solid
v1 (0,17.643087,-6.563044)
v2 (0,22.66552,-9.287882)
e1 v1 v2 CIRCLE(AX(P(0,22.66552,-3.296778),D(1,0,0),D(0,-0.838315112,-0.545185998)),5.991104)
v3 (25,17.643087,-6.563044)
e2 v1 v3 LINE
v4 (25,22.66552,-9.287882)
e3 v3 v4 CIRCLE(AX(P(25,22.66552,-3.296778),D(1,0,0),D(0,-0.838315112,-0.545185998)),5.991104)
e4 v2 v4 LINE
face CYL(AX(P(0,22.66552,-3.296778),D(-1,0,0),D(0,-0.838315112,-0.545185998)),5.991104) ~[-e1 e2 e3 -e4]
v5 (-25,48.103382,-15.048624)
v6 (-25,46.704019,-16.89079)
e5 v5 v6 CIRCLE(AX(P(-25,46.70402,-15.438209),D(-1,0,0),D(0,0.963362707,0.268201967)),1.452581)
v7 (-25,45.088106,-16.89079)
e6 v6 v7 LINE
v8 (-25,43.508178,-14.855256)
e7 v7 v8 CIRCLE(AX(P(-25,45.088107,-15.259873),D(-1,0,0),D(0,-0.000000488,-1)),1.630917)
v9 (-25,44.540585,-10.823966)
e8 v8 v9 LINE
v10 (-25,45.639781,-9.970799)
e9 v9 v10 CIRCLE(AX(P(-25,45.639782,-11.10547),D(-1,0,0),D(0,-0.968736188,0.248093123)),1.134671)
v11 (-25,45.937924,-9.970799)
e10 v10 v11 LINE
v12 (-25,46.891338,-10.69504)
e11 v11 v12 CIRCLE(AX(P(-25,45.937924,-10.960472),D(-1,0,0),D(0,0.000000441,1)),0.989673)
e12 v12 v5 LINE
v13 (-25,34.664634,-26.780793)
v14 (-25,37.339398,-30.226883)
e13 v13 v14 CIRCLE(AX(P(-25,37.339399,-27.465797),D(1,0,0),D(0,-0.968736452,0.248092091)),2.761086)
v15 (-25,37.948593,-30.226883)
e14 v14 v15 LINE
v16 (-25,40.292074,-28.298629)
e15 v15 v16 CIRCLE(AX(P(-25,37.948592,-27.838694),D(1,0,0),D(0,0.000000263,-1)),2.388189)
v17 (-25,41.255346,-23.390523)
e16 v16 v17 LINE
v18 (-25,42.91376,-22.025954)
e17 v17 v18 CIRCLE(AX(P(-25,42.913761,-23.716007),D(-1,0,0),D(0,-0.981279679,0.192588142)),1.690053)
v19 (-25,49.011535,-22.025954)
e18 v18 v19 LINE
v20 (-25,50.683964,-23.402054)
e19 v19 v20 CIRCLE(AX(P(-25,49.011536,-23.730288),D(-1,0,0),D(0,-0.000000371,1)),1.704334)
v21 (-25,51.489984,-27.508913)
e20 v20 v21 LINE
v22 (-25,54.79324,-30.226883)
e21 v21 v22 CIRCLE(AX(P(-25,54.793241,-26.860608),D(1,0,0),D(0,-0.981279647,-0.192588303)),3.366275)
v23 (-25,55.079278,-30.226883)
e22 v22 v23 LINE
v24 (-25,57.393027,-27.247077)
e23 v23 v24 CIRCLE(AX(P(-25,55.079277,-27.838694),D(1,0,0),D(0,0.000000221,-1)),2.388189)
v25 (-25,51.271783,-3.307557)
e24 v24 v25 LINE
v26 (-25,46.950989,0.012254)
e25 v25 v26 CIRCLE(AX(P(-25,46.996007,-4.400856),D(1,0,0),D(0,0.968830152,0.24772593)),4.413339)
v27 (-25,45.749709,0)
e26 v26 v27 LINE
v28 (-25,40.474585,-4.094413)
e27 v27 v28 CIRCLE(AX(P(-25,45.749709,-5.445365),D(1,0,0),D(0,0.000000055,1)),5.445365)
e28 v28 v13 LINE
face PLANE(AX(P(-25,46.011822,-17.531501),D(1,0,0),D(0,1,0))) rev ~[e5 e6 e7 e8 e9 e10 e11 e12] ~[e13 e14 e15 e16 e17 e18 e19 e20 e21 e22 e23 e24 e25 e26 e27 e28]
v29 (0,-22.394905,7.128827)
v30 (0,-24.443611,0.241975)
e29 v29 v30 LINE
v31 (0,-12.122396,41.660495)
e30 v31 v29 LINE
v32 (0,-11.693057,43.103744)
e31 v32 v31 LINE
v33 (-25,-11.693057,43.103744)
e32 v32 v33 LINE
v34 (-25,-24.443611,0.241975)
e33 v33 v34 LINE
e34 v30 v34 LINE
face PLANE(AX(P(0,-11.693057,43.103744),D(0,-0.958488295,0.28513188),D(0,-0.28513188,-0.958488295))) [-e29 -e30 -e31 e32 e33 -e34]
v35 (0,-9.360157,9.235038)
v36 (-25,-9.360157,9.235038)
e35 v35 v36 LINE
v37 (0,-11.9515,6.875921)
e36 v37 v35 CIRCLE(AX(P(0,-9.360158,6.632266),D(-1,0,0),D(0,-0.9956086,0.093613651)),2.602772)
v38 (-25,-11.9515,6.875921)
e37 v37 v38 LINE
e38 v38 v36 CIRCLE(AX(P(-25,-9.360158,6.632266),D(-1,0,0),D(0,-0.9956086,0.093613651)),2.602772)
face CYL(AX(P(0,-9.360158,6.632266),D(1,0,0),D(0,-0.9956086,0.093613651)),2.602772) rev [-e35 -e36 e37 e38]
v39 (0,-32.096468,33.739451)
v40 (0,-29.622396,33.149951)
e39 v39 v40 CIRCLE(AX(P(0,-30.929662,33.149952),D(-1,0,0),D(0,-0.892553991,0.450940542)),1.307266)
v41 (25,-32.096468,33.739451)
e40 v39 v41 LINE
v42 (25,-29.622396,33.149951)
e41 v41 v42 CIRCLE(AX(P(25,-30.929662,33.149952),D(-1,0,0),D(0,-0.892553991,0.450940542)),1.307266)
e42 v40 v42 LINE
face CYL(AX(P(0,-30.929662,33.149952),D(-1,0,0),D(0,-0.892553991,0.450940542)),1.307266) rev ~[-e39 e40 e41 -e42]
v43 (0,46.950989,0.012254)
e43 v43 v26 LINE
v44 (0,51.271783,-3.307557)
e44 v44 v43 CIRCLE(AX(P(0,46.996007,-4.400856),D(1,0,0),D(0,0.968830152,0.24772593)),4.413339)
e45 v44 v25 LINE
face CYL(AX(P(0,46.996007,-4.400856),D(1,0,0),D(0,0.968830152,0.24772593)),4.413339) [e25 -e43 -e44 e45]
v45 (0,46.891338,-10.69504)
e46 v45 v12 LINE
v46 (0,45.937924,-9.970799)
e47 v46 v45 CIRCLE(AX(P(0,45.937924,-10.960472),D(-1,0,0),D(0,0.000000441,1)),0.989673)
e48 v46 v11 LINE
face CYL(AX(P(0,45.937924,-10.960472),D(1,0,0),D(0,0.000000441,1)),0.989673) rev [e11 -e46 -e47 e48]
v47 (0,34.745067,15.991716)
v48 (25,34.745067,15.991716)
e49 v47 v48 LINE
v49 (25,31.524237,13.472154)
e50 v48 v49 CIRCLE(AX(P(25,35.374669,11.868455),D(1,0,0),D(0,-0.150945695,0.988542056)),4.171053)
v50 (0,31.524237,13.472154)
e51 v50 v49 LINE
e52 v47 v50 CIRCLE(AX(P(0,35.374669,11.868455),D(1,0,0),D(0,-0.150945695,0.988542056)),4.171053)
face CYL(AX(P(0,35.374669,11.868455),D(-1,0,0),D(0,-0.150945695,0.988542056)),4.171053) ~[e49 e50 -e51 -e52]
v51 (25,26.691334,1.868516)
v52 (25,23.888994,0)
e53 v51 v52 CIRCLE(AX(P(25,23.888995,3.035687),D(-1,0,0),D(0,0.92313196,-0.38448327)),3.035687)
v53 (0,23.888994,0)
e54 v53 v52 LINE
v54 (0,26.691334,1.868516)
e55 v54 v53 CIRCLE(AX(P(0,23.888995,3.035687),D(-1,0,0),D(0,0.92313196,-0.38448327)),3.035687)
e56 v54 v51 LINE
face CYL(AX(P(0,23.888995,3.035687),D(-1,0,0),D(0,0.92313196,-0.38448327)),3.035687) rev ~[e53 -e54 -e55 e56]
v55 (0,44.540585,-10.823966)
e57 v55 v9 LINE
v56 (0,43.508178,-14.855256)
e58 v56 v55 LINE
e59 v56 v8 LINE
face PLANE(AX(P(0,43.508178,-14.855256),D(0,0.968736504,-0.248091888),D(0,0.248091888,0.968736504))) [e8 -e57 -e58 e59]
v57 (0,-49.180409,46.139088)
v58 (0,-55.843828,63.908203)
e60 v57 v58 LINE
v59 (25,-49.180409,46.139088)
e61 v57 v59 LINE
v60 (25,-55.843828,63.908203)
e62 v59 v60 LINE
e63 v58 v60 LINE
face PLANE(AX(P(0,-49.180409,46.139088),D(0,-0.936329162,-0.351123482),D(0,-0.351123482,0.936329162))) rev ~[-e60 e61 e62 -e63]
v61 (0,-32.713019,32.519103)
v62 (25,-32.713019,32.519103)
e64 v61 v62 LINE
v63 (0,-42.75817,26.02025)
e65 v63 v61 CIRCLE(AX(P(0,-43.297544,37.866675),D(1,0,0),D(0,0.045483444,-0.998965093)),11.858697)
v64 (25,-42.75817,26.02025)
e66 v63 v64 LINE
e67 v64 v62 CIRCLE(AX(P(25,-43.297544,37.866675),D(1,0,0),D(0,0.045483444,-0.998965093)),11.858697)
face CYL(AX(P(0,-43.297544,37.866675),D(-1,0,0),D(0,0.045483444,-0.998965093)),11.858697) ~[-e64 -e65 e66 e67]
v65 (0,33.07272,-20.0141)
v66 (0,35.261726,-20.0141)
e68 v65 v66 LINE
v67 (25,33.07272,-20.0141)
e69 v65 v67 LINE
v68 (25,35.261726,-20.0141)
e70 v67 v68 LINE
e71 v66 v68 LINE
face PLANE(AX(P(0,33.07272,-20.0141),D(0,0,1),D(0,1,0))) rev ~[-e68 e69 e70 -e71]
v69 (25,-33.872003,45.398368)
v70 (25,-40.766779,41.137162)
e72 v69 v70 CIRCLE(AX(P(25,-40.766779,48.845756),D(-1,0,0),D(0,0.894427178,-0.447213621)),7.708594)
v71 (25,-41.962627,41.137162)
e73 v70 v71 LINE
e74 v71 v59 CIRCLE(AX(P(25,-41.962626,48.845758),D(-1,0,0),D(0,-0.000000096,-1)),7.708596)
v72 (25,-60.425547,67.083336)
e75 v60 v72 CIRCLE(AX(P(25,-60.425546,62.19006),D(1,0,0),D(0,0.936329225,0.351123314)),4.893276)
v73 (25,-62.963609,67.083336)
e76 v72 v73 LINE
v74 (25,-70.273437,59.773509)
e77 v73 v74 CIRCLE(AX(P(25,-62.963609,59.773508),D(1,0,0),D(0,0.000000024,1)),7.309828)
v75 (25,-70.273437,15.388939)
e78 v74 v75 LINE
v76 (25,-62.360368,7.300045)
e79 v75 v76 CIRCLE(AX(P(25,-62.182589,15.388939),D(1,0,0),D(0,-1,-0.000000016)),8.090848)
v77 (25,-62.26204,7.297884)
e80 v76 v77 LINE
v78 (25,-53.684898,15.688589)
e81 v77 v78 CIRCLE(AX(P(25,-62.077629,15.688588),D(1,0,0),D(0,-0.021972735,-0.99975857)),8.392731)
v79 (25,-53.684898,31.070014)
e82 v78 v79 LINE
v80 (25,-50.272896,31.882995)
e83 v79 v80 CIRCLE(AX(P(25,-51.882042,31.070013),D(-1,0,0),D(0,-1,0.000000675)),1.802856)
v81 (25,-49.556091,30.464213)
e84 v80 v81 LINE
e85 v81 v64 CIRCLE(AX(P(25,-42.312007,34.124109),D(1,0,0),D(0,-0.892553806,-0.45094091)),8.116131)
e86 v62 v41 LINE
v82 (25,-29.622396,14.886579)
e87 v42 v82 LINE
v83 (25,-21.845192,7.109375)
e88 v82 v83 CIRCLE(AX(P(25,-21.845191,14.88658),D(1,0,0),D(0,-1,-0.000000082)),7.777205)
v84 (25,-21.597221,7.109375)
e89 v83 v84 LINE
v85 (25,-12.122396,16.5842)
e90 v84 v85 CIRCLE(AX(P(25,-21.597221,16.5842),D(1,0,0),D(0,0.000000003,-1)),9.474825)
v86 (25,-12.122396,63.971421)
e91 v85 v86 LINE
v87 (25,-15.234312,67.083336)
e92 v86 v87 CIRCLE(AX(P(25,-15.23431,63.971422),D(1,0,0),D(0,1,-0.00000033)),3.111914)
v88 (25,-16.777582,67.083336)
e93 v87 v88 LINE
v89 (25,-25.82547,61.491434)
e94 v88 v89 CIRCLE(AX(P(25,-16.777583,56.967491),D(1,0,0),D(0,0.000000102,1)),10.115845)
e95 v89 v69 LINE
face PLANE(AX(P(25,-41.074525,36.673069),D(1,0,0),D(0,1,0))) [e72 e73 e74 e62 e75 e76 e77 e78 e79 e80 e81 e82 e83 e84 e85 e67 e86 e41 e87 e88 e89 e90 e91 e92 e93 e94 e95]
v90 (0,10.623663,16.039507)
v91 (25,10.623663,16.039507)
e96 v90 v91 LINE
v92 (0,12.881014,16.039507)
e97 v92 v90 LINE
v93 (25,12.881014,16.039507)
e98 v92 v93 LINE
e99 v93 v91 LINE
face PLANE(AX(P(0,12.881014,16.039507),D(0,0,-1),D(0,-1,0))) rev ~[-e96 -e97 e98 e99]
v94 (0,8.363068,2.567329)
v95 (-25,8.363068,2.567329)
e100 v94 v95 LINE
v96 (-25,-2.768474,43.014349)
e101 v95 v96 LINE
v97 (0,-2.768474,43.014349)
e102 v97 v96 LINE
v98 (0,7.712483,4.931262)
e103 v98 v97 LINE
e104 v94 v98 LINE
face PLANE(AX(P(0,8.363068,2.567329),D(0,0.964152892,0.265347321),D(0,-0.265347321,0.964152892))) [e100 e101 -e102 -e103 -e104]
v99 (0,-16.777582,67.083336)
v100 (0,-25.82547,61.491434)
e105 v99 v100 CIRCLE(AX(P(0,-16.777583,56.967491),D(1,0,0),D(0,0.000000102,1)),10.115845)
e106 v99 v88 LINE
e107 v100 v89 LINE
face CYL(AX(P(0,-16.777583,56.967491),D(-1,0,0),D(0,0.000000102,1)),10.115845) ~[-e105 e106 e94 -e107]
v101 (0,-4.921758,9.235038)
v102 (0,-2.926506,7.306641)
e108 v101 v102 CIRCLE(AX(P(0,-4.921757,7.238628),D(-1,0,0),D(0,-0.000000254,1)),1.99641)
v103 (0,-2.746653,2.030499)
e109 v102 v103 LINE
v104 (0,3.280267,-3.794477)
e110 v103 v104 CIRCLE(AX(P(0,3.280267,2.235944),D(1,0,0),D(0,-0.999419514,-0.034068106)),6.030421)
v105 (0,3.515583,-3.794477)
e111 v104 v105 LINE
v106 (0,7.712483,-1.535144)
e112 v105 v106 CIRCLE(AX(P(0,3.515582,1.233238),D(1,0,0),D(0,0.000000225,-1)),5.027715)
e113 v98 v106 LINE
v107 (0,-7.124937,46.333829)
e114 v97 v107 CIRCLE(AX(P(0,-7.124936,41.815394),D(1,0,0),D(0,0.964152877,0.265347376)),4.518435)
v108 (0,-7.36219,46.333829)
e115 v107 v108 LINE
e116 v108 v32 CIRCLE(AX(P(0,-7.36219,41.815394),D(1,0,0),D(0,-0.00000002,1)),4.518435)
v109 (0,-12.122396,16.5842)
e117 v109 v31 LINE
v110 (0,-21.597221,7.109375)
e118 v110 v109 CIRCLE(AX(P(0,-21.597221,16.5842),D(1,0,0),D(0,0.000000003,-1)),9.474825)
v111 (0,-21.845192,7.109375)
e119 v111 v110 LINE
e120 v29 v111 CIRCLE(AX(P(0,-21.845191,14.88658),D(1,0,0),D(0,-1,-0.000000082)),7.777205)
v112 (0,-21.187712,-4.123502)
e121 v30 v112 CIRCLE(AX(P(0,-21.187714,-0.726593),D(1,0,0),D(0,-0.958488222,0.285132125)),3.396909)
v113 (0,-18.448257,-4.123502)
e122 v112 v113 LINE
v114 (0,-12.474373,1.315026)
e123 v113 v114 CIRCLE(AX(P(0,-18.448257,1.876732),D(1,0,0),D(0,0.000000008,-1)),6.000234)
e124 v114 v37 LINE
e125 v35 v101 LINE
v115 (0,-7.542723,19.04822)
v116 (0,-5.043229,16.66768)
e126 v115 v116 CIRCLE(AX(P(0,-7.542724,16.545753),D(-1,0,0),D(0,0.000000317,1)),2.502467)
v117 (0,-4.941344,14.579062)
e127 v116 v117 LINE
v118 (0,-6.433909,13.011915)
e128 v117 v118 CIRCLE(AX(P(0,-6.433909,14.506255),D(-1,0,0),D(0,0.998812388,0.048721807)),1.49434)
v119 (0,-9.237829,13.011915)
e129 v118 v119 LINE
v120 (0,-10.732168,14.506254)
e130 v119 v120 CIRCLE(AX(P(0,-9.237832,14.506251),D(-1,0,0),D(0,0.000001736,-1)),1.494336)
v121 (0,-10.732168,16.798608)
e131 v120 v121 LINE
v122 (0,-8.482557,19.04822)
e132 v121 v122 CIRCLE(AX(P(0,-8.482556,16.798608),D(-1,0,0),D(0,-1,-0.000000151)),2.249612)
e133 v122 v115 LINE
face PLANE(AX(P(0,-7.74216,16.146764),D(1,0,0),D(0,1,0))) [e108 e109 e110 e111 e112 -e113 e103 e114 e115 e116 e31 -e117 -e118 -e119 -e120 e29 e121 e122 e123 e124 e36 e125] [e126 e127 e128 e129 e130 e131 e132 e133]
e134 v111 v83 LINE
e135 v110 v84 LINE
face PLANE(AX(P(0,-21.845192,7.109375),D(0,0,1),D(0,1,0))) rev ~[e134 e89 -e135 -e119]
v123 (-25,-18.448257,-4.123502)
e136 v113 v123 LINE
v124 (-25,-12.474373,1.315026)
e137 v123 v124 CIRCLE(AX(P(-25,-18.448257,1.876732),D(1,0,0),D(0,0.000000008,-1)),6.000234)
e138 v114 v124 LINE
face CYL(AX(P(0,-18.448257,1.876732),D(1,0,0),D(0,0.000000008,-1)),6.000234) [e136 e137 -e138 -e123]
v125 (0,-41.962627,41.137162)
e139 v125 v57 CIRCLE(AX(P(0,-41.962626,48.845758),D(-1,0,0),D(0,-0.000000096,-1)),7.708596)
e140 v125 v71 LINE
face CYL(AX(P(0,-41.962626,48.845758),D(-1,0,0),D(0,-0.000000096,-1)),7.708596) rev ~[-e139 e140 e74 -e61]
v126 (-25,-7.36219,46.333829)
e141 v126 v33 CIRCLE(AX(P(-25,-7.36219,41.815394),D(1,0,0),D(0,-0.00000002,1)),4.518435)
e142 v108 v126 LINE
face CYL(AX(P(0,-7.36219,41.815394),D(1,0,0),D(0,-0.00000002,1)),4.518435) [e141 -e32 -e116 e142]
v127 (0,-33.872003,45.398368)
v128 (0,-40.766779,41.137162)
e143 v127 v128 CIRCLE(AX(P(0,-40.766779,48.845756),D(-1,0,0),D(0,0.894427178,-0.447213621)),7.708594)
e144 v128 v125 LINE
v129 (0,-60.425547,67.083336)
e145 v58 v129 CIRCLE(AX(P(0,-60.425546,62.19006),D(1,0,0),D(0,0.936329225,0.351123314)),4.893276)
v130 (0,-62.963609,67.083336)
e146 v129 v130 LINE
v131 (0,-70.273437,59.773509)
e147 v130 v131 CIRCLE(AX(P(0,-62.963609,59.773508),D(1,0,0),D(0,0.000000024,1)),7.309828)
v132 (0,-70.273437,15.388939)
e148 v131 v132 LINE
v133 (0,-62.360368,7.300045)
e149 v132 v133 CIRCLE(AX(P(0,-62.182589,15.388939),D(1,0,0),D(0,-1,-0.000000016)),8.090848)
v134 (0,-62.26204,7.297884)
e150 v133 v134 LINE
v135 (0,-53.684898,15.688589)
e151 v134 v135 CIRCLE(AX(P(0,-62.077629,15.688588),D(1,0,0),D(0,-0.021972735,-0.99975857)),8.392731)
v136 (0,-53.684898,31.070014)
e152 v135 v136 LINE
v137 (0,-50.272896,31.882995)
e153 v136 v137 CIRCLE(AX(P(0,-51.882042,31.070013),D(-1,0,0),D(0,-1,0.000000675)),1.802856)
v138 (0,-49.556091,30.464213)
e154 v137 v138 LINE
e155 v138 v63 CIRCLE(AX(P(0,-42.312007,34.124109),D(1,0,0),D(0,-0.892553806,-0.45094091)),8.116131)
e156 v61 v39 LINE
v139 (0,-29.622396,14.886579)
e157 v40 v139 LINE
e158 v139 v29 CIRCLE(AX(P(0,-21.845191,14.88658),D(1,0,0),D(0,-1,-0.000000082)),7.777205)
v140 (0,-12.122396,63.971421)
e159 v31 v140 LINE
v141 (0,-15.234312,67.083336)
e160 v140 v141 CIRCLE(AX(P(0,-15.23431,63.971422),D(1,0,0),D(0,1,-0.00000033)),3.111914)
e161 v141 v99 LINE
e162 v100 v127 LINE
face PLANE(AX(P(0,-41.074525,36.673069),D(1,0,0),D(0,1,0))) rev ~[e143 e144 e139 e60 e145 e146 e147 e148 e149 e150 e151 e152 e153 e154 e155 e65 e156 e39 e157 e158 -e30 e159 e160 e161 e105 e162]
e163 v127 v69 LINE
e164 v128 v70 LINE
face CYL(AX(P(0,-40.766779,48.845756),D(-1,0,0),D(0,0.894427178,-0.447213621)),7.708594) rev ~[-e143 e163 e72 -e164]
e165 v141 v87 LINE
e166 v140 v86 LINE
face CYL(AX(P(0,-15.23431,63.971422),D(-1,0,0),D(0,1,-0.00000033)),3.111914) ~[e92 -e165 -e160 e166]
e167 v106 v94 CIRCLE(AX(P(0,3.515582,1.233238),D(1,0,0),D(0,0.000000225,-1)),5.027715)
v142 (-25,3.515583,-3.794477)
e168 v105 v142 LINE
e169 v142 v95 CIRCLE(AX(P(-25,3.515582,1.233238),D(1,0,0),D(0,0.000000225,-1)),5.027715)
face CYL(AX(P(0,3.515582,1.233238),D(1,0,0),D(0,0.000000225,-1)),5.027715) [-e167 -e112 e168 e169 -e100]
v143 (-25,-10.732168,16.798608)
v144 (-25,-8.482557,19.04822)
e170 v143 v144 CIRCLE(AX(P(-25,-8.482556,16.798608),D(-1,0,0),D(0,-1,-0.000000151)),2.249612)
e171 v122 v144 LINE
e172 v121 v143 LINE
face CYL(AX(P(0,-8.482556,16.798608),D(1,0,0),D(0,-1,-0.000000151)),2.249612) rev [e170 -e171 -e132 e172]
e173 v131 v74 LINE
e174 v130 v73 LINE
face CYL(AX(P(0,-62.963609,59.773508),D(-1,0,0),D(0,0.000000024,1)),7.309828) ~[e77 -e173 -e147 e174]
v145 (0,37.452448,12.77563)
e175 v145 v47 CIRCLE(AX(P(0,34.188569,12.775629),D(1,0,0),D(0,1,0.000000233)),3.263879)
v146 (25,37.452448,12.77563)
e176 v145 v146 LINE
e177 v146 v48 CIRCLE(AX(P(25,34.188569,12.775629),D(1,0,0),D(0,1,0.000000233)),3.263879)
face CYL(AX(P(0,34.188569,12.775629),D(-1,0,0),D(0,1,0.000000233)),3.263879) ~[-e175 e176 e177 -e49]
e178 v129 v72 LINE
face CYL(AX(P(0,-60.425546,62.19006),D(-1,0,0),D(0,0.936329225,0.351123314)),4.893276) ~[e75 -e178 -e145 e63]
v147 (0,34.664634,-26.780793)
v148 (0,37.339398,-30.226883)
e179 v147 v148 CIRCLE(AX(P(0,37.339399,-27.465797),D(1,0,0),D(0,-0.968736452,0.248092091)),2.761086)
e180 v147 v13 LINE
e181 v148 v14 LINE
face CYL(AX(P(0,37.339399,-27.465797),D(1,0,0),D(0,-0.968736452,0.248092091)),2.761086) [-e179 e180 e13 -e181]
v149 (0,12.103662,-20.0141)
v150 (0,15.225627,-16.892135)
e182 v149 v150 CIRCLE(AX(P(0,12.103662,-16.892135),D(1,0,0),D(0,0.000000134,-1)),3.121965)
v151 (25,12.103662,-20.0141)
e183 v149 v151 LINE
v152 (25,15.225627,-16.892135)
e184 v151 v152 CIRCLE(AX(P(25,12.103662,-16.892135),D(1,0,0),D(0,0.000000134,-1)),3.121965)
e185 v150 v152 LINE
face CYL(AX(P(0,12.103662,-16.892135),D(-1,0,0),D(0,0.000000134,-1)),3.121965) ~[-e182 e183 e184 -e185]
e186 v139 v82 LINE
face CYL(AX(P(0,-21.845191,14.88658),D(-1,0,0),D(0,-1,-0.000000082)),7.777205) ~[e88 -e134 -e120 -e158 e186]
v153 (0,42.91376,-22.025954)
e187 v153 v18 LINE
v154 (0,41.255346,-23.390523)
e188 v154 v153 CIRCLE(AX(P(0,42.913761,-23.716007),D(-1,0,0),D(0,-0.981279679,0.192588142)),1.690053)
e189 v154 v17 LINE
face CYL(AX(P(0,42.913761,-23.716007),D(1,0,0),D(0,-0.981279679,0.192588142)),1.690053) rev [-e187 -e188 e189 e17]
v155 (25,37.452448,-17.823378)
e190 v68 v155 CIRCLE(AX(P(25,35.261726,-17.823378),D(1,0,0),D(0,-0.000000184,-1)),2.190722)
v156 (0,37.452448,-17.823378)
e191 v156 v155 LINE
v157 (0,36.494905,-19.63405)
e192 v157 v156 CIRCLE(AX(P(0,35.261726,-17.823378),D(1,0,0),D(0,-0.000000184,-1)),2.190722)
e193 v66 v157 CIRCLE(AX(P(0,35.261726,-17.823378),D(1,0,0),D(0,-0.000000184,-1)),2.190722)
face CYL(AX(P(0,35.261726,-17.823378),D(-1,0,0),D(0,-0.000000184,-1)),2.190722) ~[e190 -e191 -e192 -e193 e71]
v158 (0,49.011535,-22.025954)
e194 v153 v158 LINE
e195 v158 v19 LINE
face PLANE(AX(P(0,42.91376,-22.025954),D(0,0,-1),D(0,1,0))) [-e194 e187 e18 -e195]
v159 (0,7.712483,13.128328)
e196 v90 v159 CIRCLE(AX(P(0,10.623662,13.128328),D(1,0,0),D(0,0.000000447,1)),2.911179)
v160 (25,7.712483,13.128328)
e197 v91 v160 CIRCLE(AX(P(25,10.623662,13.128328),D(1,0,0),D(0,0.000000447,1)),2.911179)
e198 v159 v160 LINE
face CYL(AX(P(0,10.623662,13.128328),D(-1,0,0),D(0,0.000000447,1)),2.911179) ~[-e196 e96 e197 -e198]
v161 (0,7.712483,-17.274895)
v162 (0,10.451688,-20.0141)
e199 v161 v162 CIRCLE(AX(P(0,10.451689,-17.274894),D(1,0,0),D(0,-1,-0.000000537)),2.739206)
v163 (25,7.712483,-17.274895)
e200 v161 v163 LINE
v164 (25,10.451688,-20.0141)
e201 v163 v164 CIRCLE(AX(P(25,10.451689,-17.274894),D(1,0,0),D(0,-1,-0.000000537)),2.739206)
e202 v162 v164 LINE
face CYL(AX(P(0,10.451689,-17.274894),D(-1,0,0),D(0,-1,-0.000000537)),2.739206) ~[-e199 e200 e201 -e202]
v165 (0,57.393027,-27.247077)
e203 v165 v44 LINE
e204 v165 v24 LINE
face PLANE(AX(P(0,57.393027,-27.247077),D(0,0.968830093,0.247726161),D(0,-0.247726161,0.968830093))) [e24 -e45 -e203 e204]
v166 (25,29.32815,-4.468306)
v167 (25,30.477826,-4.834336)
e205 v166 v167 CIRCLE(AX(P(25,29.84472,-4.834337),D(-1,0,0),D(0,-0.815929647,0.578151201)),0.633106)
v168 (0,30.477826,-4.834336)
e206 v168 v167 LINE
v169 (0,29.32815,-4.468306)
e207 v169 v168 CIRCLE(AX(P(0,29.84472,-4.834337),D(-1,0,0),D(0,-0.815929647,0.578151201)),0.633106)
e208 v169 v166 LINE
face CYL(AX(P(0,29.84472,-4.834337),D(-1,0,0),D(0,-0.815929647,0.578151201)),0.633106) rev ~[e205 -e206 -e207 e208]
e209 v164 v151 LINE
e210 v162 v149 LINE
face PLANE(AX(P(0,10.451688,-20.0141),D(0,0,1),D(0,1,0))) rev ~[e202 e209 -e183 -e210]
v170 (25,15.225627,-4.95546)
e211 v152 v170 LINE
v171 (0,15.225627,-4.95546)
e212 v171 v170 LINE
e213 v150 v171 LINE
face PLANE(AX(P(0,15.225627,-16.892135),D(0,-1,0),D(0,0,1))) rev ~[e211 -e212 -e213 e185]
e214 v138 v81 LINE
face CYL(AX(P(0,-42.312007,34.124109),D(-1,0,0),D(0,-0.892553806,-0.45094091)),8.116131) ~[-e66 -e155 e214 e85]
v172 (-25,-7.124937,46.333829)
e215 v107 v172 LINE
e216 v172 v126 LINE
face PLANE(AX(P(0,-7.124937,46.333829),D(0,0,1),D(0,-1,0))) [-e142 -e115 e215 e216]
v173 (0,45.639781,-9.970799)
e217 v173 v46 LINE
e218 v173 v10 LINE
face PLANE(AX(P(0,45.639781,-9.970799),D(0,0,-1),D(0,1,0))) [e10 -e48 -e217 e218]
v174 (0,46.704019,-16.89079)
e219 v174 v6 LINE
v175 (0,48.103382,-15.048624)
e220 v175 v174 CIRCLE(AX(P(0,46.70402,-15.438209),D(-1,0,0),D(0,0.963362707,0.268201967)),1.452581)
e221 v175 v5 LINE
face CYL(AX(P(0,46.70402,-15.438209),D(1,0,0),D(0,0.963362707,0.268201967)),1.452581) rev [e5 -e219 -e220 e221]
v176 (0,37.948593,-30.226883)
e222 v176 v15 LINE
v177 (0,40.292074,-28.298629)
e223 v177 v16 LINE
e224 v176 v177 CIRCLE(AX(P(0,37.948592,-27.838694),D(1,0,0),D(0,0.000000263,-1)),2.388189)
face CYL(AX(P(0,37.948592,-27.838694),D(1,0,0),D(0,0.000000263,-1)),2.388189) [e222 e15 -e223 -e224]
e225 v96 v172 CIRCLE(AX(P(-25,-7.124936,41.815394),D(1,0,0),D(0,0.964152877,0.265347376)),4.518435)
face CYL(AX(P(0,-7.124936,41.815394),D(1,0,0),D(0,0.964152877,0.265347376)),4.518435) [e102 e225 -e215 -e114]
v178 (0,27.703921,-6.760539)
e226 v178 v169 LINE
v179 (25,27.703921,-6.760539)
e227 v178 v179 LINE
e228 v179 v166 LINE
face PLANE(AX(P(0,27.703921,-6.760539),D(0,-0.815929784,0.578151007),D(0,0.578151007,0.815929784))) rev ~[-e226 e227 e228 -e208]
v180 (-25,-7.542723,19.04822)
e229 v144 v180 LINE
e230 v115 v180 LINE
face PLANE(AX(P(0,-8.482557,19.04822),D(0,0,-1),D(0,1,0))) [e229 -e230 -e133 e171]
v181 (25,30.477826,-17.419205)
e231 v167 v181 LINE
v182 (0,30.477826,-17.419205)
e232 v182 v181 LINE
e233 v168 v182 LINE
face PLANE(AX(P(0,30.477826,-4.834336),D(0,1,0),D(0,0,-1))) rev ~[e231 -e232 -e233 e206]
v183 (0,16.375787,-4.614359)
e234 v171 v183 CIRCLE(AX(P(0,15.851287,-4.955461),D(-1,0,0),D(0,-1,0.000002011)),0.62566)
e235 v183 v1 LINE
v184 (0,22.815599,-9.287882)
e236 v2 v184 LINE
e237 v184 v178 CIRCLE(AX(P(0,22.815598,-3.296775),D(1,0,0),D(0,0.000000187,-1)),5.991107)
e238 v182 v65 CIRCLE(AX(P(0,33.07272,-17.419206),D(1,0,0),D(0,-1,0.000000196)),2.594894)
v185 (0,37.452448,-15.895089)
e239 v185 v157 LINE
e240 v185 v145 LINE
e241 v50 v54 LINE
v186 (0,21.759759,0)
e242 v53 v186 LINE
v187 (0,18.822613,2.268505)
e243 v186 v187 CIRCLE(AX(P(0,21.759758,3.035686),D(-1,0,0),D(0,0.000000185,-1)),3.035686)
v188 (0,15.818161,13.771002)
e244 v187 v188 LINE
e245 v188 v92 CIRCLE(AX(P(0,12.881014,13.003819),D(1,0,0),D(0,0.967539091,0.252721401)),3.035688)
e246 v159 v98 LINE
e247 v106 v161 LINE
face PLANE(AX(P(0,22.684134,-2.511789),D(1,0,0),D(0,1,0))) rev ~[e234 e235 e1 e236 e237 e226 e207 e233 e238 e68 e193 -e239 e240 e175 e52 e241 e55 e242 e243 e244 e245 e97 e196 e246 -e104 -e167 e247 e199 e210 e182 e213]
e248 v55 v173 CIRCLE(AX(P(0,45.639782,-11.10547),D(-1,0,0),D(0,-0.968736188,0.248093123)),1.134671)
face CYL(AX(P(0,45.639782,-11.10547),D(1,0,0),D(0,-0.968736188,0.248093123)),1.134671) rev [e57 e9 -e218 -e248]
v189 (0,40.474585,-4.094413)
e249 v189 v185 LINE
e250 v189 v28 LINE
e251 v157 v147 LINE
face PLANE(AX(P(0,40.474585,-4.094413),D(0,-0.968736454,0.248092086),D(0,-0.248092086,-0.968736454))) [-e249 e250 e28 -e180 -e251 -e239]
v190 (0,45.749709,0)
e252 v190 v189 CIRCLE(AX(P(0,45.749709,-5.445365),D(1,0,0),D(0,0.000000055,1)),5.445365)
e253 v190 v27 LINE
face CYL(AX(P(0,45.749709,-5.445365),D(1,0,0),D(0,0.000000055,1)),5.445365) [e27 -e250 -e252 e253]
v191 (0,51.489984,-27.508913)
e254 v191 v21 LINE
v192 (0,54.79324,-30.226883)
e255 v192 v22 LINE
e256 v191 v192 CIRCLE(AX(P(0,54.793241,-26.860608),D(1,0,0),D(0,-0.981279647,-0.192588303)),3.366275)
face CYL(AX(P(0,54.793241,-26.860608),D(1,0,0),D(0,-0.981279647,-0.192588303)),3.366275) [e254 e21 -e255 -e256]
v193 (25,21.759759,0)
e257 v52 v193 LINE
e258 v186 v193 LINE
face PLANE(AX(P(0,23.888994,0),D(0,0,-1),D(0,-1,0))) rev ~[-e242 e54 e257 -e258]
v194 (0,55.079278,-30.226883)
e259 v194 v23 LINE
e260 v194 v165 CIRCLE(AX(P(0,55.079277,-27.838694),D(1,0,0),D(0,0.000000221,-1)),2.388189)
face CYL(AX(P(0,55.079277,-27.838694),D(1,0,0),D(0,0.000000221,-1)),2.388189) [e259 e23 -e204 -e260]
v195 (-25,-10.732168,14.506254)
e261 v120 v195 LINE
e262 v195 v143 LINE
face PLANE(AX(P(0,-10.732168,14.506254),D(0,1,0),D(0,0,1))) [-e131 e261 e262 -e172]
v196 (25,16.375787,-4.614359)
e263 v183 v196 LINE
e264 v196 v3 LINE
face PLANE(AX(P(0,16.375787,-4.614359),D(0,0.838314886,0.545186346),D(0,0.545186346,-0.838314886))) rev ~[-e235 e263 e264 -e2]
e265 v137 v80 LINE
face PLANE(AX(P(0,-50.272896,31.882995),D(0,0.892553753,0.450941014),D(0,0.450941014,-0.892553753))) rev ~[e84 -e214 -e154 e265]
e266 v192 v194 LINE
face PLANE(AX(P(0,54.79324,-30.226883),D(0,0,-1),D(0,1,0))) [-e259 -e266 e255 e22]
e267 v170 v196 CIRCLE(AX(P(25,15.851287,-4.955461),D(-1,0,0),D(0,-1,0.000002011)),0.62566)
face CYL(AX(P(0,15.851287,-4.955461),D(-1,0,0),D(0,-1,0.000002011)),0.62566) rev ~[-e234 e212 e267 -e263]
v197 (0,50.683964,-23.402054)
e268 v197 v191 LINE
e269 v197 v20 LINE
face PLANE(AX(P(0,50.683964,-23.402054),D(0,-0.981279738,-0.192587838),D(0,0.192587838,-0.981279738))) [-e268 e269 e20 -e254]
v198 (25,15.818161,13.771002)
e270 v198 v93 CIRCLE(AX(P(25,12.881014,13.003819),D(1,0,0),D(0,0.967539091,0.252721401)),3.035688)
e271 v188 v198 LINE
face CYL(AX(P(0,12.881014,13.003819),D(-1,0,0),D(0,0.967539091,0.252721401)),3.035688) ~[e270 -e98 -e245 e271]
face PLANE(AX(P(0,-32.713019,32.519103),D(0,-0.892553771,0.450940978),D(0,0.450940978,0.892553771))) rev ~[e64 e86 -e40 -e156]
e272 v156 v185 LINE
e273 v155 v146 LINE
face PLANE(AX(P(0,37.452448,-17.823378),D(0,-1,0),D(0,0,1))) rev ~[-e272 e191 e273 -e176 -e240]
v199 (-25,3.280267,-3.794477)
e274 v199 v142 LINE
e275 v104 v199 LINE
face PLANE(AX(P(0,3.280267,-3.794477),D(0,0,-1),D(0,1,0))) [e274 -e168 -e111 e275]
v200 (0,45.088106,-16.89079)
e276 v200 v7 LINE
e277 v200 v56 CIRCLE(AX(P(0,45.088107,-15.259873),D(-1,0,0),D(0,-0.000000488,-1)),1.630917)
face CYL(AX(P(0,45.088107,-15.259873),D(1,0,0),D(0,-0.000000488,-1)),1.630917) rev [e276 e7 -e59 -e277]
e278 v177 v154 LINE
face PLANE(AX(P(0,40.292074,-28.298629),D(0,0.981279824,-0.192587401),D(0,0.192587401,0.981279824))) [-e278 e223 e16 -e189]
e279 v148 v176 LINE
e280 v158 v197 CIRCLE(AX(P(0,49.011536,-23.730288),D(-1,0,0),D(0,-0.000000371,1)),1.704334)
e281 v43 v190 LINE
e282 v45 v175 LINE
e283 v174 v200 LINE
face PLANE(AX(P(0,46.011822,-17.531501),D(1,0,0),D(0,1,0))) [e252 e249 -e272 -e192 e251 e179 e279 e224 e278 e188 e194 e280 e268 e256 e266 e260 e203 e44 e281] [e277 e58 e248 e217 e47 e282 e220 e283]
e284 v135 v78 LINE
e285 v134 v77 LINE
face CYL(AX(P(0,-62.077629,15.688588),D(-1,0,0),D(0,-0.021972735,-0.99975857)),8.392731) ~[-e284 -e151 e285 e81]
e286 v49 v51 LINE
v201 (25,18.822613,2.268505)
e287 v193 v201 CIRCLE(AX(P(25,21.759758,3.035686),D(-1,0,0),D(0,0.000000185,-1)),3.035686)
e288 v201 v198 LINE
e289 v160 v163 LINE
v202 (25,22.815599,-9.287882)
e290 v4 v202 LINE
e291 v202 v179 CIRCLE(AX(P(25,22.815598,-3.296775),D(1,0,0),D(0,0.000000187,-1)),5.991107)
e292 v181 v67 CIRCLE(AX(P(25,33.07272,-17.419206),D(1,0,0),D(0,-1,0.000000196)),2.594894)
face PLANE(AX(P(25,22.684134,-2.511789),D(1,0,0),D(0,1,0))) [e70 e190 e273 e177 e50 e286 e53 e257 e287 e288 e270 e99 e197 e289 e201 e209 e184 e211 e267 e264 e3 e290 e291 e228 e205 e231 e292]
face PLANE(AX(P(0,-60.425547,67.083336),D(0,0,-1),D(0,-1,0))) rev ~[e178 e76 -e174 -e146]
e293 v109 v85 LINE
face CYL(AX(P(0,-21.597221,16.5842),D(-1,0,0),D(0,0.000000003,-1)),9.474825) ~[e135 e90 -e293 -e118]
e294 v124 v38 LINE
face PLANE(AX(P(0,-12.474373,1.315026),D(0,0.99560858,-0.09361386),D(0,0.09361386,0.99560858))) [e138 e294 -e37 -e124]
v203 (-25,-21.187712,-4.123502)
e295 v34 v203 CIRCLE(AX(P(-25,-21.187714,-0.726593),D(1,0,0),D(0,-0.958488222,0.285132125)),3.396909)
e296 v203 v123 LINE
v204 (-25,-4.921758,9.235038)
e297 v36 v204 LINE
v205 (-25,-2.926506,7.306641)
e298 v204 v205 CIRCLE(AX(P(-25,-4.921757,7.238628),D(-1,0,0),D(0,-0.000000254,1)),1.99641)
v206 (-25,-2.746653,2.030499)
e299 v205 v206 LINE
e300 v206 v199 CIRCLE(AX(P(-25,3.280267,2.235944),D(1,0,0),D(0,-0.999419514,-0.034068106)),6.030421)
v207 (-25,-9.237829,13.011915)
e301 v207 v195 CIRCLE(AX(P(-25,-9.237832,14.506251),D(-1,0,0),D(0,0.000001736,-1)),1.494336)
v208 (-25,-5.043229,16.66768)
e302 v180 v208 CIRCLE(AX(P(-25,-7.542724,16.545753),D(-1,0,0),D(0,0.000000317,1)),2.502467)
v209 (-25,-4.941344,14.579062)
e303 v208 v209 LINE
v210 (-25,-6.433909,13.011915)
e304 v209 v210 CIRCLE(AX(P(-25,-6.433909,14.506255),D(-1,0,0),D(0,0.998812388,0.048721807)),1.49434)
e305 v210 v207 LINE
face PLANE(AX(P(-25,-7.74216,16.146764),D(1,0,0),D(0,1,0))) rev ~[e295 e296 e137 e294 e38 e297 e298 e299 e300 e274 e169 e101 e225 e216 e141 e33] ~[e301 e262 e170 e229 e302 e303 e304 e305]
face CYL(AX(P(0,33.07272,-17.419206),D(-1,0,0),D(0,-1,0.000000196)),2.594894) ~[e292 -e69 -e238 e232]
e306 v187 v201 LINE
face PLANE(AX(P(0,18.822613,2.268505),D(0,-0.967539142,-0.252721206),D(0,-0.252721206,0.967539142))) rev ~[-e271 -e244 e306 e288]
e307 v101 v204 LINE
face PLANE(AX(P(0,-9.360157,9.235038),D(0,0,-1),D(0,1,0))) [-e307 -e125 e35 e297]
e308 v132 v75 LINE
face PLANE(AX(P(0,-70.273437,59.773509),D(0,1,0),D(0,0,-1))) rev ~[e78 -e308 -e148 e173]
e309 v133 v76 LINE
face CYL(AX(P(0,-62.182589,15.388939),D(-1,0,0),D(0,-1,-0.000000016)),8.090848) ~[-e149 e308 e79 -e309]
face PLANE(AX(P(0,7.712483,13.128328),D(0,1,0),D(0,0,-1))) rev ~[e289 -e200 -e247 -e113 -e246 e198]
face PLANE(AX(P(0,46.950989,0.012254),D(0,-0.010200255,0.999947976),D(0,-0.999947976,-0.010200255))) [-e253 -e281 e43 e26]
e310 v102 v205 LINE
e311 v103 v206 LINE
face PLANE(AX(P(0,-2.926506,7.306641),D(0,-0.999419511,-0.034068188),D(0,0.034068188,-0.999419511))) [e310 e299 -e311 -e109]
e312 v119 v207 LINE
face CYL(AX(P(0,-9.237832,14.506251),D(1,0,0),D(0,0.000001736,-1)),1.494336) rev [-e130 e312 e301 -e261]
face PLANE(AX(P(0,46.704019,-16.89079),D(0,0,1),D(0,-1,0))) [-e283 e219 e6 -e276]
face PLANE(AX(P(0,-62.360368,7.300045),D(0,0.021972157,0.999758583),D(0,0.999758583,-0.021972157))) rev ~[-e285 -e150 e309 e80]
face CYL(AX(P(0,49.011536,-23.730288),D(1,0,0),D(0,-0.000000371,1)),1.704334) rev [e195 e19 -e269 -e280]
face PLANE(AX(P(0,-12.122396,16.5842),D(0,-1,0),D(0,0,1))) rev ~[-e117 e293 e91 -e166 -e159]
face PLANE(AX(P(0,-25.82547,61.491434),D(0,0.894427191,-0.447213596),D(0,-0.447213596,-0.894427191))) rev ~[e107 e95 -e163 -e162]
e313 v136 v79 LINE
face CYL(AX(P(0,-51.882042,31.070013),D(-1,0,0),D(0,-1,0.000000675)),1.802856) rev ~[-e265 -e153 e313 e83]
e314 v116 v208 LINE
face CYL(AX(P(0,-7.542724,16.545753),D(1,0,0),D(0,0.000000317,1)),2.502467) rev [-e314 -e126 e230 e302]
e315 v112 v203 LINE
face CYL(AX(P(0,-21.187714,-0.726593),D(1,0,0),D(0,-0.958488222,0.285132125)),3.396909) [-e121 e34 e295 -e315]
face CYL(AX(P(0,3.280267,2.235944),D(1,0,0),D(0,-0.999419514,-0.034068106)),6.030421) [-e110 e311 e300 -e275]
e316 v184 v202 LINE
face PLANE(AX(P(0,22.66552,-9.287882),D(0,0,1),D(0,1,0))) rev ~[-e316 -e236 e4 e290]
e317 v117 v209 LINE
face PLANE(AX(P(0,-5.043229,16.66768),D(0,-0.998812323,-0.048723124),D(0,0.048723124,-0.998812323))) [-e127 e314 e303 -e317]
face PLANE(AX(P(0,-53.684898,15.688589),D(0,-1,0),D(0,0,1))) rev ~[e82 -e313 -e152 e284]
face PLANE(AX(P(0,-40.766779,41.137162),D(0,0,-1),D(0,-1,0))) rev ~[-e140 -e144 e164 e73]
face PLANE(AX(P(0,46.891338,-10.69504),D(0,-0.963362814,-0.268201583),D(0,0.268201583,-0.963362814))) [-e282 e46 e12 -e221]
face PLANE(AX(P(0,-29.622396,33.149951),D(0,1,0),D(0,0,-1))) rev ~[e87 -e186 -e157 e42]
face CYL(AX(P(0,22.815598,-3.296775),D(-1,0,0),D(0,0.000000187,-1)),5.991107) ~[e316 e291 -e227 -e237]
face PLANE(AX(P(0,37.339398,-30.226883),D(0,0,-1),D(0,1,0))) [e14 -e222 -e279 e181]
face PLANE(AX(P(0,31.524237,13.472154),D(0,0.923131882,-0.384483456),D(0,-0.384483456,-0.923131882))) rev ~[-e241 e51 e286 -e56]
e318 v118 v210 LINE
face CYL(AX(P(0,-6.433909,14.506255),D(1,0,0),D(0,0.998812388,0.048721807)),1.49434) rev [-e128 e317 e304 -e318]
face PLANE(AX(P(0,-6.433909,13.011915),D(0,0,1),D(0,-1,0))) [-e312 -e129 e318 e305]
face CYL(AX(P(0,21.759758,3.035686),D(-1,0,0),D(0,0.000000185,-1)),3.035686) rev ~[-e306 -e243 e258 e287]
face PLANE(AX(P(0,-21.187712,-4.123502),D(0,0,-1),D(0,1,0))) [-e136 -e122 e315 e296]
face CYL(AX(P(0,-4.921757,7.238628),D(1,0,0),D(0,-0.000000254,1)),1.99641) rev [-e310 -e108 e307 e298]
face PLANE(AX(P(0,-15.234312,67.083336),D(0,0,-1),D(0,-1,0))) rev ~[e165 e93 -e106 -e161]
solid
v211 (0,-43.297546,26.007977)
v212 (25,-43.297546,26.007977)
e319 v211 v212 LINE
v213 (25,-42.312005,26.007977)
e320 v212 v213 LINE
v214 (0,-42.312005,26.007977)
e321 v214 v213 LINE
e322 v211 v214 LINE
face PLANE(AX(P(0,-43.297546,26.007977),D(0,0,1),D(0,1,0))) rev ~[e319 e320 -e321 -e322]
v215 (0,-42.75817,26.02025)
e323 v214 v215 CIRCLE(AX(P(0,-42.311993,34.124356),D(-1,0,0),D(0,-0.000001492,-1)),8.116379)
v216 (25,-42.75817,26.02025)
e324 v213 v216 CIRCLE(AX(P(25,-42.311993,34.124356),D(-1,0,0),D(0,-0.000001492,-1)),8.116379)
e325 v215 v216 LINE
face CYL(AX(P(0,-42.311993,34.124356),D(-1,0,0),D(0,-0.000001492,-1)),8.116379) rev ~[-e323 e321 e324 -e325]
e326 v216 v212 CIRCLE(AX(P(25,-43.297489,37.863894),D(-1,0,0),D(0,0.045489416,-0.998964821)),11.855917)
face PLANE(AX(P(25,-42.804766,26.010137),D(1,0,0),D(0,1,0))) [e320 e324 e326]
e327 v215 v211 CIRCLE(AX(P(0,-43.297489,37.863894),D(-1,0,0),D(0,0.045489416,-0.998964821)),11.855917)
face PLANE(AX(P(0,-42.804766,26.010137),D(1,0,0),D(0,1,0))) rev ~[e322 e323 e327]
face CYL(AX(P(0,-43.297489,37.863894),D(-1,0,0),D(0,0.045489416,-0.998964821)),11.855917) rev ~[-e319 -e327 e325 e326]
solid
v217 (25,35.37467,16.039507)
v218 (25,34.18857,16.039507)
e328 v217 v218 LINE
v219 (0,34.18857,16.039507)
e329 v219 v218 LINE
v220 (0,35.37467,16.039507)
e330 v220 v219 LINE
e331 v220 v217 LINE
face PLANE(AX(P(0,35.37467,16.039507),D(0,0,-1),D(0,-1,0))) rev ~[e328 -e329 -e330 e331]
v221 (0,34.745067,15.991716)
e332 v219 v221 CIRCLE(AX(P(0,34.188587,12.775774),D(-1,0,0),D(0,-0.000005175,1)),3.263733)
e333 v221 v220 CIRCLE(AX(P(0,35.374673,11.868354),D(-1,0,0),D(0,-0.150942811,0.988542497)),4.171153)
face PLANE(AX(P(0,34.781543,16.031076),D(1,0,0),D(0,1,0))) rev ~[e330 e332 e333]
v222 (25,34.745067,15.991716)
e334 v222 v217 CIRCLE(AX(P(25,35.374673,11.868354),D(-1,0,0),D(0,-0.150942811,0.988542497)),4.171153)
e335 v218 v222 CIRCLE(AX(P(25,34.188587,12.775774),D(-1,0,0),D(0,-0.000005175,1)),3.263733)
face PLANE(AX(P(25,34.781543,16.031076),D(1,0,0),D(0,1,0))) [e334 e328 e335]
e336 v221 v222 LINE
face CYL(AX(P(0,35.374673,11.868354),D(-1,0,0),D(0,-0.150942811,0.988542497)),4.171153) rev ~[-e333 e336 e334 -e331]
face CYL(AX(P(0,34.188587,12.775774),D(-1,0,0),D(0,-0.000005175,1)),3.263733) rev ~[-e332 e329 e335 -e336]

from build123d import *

# Parameters (mm, degrees)
F1_DEPTH = 25
F3_DEPTH = 25
F5_DEPTH = 25
F7_DEPTH = 25


with BuildPart() as f1:
    # F0 (on Right) → F1 (new body)
    with BuildSketch(Plane.YZ):
        with BuildLine():
            ThreePointArc((-42.312005, 26.007977), (-42.535172, 26.011046), (-42.75817, 26.02025))
            ThreePointArc((-42.75817, 26.02025), (-43.027788, 26.011045), (-43.297546, 26.007977))
            Line((-43.297546, 26.007977), (-42.312005, 26.007977))
        make_face()
        with BuildLine():
            Line((-70.273437, 59.773509), (-70.273437, 15.388939))
            ThreePointArc((-70.273437, 15.388939), (-67.966195, 9.731049), (-62.360368, 7.300045))
            Line((-62.360368, 7.300045), (-62.26204, 7.297884))
            ThreePointArc((-62.26204, 7.297884), (-56.208633, 9.689187), (-53.684898, 15.688589))
            Line((-53.684898, 15.688589), (-53.684898, 31.070014))
            ThreePointArc((-53.684898, 31.070014), (-52.299912, 32.823773), (-50.272896, 31.882995))
            Line((-50.272896, 31.882995), (-49.556091, 30.464213))
            ThreePointArc((-49.556091, 30.464213), (-46.752973, 27.330773), (-42.75817, 26.02025))
            ThreePointArc((-42.75817, 26.02025), (-36.855957, 27.910036), (-32.713019, 32.519103))
            Line((-32.713019, 32.519103), (-32.096468, 33.739451))
            ThreePointArc((-32.096468, 33.739451), (-30.626661, 34.421618), (-29.622396, 33.149951))
            Line((-29.622396, 33.149951), (-29.622396, 14.886579))
            ThreePointArc((-29.622396, 14.886579), (-27.344506, 9.387266), (-21.845192, 7.109375))
            Line((-21.845192, 7.109375), (-21.597221, 7.109375))
            ThreePointArc((-21.597221, 7.109375), (-14.897508, 9.884487), (-12.122396, 16.5842))
            Line((-12.122396, 16.5842), (-12.122396, 63.971421))
            ThreePointArc((-12.122396, 63.971421), (-13.033855, 66.171878), (-15.234312, 67.083336))
            Line((-15.234312, 67.083336), (-16.777582, 67.083336))
            ThreePointArc((-16.777582, 67.083336), (-22.095797, 65.572543), (-25.82547, 61.491434))
            Line((-25.82547, 61.491434), (-33.872003, 45.398368))
            ThreePointArc((-33.872003, 45.398368), (-36.714132, 42.288434), (-40.766779, 41.137162))
            Line((-40.766779, 41.137162), (-41.962627, 41.137162))
            ThreePointArc((-41.962627, 41.137162), (-46.353402, 42.509865), (-49.180409, 46.139088))
            Line((-49.180409, 46.139088), (-55.843828, 63.908203))
            ThreePointArc((-55.843828, 63.908203), (-57.638361, 66.211969), (-60.425547, 67.083336))
            Line((-60.425547, 67.083336), (-62.963609, 67.083336))
            ThreePointArc((-62.963609, 67.083336), (-68.132438, 64.942337), (-70.273437, 59.773509))
        make_face()
    extrude(amount=F1_DEPTH)

    # F2 (on Right) → F3 (join)
    with BuildSketch(Plane.YZ):
        with BuildLine():
            Line((-7.124937, 46.333829), (-7.36219, 46.333829))
            ThreePointArc((-7.36219, 46.333829), (-10.063572, 45.437381), (-11.693057, 43.103744))
            Line((-11.693057, 43.103744), (-24.443611, 0.241975))
            ThreePointArc((-24.443611, 0.241975), (-23.910683, -2.757462), (-21.187712, -4.123502))
            Line((-21.187712, -4.123502), (-18.448257, -4.123502))
            ThreePointArc((-18.448257, -4.123502), (-14.408923, -2.560225), (-12.474373, 1.315026))
            Line((-12.474373, 1.315026), (-11.9515, 6.875921))
            ThreePointArc((-11.9515, 6.875921), (-11.112334, 8.556922), (-9.360157, 9.235038))
            Line((-9.360157, 9.235038), (-4.921758, 9.235038))
            ThreePointArc((-4.921758, 9.235038), (-3.534337, 8.674148), (-2.926506, 7.306641))
            Line((-2.926506, 7.306641), (-2.746653, 2.030499))
            ThreePointArc((-2.746653, 2.030499), (-0.910619, -2.100235), (3.280267, -3.794477))
            Line((3.280267, -3.794477), (3.515583, -3.794477))
            ThreePointArc((3.515583, -3.794477), (7.514666, -1.813932), (8.363068, 2.567329))
            Line((8.363068, 2.567329), (-2.768474, 43.014349))
            ThreePointArc((-2.768474, 43.014349), (-4.386428, 45.409393), (-7.124937, 46.333829))
        make_face()
        with BuildLine():
            Line((-10.732168, 14.506254), (-10.732168, 16.798608))
            ThreePointArc((-10.732168, 16.798608), (-10.073272, 18.389324), (-8.482557, 19.04822))
            Line((-8.482557, 19.04822), (-7.542723, 19.04822))
            ThreePointArc((-7.542723, 19.04822), (-5.816858, 18.357859), (-5.043229, 16.66768))
            Line((-5.043229, 16.66768), (-4.941344, 14.579062))
            ThreePointArc((-4.941344, 14.579062), (-5.351816, 13.47566), (-6.433909, 13.011915))
            Line((-6.433909, 13.011915), (-9.237829, 13.011915))
            ThreePointArc((-9.237829, 13.011915), (-10.294487, 13.449596), (-10.732168, 14.506254))
        make_face(mode=Mode.SUBTRACT)
    extrude(amount=-F3_DEPTH)

    # F4 (on Right) → F5 (join)
    with BuildSketch(Plane.YZ):
        with BuildLine():
            ThreePointArc((34.18857, 16.039507), (34.467843, 16.027538), (34.745067, 15.991716))
            ThreePointArc((34.745067, 15.991716), (35.058963, 16.027542), (35.37467, 16.039507))
            Line((35.37467, 16.039507), (34.18857, 16.039507))
        make_face()
        with BuildLine():
            Line((7.712483, 13.128328), (7.712483, -17.274895))
            ThreePointArc((7.712483, -17.274895), (8.514778, -19.211805), (10.451688, -20.0141))
            Line((10.451688, -20.0141), (12.103662, -20.0141))
            ThreePointArc((12.103662, -20.0141), (14.311225, -19.099697), (15.225627, -16.892135))
            Line((15.225627, -16.892135), (15.225627, -4.95546))
            ThreePointArc((15.225627, -4.95546), (15.673394, -4.355624), (16.375787, -4.614359))
            Line((16.375787, -4.614359), (17.643087, -6.563044))
            ThreePointArc((17.643087, -6.563044), (19.80853, -8.562795), (22.66552, -9.287882))
            Line((22.66552, -9.287882), (22.815599, -9.287882))
            ThreePointArc((22.815599, -9.287882), (25.567106, -8.61867), (27.703921, -6.760539))
            Line((27.703921, -6.760539), (29.32815, -4.468306))
            ThreePointArc((29.32815, -4.468306), (30.036787, -4.231068), (30.477826, -4.834336))
            Line((30.477826, -4.834336), (30.477826, -17.419205))
            ThreePointArc((30.477826, -17.419205), (31.237853, -19.254073), (33.07272, -20.0141))
            Line((33.07272, -20.0141), (35.261726, -20.0141))
            ThreePointArc((35.261726, -20.0141), (36.810801, -19.372452), (37.452448, -17.823378))
            Line((37.452448, -17.823378), (37.452448, 12.77563))
            ThreePointArc((37.452448, 12.77563), (36.685492, 14.8776), (34.745067, 15.991716))
            ThreePointArc((34.745067, 15.991716), (32.804703, 15.153718), (31.524237, 13.472154))
            Line((31.524237, 13.472154), (26.691334, 1.868516))
            ThreePointArc((26.691334, 1.868516), (25.573071, 0.509963), (23.888994, 0))
            Line((23.888994, 0), (21.759759, 0))
            ThreePointArc((21.759759, 0), (19.904163, 0.633155), (18.822613, 2.268505))
            Line((18.822613, 2.268505), (15.818161, 13.771002))
            ThreePointArc((15.818161, 13.771002), (14.73661, 15.406352), (12.881014, 16.039507))
            Line((12.881014, 16.039507), (10.623663, 16.039507))
            ThreePointArc((10.623663, 16.039507), (8.565148, 15.186843), (7.712483, 13.128328))
        make_face()
    extrude(amount=F5_DEPTH)

    # F6 (on Right) → F7 (join)
    with BuildSketch(Plane.YZ):
        with BuildLine():
            Line((40.474585, -4.094413), (34.664634, -26.780793))
            ThreePointArc((34.664634, -26.780793), (35.158235, -29.158759), (37.339398, -30.226883))
            Line((37.339398, -30.226883), (37.948593, -30.226883))
            ThreePointArc((37.948593, -30.226883), (39.465997, -29.682855), (40.292074, -28.298629))
            Line((40.292074, -28.298629), (41.255346, -23.390523))
            ThreePointArc((41.255346, -23.390523), (41.839937, -22.410947), (42.91376, -22.025954))
            Line((42.91376, -22.025954), (49.011535, -22.025954))
            ThreePointArc((49.011535, -22.025954), (50.094433, -22.4142), (50.683964, -23.402054))
            Line((50.683964, -23.402054), (51.489984, -27.508913))
            ThreePointArc((51.489984, -27.508913), (52.654382, -29.460048), (54.79324, -30.226883))
            Line((54.79324, -30.226883), (55.079278, -30.226883))
            ThreePointArc((55.079278, -30.226883), (56.965589, -29.30337), (57.393027, -27.247077))
            Line((57.393027, -27.247077), (51.271783, -3.307557))
            ThreePointArc((51.271783, -3.307557), (49.684894, -0.90122), (46.950989, 0.012254))
            Line((46.950989, 0.012254), (45.749709, 0))
            ThreePointArc((45.749709, 0), (42.410878, -1.143713), (40.474585, -4.094413))
        make_face()
        with BuildLine():
            ThreePointArc((45.088106, -16.89079), (43.799738, -16.259871), (43.508178, -14.855256))
            Line((43.508178, -14.855256), (44.540585, -10.823966))
            ThreePointArc((44.540585, -10.823966), (44.944057, -10.209119), (45.639781, -9.970799))
            Line((45.639781, -9.970799), (45.937924, -9.970799))
            ThreePointArc((45.937924, -9.970799), (46.536573, -10.172391), (46.891338, -10.69504))
            Line((46.891338, -10.69504), (48.103382, -15.048624))
            ThreePointArc((48.103382, -15.048624), (47.860716, -16.31687), (46.704019, -16.89079))
            Line((46.704019, -16.89079), (45.088106, -16.89079))
        make_face(mode=Mode.SUBTRACT)
    extrude(amount=-F7_DEPTH)


solid = f1.part
